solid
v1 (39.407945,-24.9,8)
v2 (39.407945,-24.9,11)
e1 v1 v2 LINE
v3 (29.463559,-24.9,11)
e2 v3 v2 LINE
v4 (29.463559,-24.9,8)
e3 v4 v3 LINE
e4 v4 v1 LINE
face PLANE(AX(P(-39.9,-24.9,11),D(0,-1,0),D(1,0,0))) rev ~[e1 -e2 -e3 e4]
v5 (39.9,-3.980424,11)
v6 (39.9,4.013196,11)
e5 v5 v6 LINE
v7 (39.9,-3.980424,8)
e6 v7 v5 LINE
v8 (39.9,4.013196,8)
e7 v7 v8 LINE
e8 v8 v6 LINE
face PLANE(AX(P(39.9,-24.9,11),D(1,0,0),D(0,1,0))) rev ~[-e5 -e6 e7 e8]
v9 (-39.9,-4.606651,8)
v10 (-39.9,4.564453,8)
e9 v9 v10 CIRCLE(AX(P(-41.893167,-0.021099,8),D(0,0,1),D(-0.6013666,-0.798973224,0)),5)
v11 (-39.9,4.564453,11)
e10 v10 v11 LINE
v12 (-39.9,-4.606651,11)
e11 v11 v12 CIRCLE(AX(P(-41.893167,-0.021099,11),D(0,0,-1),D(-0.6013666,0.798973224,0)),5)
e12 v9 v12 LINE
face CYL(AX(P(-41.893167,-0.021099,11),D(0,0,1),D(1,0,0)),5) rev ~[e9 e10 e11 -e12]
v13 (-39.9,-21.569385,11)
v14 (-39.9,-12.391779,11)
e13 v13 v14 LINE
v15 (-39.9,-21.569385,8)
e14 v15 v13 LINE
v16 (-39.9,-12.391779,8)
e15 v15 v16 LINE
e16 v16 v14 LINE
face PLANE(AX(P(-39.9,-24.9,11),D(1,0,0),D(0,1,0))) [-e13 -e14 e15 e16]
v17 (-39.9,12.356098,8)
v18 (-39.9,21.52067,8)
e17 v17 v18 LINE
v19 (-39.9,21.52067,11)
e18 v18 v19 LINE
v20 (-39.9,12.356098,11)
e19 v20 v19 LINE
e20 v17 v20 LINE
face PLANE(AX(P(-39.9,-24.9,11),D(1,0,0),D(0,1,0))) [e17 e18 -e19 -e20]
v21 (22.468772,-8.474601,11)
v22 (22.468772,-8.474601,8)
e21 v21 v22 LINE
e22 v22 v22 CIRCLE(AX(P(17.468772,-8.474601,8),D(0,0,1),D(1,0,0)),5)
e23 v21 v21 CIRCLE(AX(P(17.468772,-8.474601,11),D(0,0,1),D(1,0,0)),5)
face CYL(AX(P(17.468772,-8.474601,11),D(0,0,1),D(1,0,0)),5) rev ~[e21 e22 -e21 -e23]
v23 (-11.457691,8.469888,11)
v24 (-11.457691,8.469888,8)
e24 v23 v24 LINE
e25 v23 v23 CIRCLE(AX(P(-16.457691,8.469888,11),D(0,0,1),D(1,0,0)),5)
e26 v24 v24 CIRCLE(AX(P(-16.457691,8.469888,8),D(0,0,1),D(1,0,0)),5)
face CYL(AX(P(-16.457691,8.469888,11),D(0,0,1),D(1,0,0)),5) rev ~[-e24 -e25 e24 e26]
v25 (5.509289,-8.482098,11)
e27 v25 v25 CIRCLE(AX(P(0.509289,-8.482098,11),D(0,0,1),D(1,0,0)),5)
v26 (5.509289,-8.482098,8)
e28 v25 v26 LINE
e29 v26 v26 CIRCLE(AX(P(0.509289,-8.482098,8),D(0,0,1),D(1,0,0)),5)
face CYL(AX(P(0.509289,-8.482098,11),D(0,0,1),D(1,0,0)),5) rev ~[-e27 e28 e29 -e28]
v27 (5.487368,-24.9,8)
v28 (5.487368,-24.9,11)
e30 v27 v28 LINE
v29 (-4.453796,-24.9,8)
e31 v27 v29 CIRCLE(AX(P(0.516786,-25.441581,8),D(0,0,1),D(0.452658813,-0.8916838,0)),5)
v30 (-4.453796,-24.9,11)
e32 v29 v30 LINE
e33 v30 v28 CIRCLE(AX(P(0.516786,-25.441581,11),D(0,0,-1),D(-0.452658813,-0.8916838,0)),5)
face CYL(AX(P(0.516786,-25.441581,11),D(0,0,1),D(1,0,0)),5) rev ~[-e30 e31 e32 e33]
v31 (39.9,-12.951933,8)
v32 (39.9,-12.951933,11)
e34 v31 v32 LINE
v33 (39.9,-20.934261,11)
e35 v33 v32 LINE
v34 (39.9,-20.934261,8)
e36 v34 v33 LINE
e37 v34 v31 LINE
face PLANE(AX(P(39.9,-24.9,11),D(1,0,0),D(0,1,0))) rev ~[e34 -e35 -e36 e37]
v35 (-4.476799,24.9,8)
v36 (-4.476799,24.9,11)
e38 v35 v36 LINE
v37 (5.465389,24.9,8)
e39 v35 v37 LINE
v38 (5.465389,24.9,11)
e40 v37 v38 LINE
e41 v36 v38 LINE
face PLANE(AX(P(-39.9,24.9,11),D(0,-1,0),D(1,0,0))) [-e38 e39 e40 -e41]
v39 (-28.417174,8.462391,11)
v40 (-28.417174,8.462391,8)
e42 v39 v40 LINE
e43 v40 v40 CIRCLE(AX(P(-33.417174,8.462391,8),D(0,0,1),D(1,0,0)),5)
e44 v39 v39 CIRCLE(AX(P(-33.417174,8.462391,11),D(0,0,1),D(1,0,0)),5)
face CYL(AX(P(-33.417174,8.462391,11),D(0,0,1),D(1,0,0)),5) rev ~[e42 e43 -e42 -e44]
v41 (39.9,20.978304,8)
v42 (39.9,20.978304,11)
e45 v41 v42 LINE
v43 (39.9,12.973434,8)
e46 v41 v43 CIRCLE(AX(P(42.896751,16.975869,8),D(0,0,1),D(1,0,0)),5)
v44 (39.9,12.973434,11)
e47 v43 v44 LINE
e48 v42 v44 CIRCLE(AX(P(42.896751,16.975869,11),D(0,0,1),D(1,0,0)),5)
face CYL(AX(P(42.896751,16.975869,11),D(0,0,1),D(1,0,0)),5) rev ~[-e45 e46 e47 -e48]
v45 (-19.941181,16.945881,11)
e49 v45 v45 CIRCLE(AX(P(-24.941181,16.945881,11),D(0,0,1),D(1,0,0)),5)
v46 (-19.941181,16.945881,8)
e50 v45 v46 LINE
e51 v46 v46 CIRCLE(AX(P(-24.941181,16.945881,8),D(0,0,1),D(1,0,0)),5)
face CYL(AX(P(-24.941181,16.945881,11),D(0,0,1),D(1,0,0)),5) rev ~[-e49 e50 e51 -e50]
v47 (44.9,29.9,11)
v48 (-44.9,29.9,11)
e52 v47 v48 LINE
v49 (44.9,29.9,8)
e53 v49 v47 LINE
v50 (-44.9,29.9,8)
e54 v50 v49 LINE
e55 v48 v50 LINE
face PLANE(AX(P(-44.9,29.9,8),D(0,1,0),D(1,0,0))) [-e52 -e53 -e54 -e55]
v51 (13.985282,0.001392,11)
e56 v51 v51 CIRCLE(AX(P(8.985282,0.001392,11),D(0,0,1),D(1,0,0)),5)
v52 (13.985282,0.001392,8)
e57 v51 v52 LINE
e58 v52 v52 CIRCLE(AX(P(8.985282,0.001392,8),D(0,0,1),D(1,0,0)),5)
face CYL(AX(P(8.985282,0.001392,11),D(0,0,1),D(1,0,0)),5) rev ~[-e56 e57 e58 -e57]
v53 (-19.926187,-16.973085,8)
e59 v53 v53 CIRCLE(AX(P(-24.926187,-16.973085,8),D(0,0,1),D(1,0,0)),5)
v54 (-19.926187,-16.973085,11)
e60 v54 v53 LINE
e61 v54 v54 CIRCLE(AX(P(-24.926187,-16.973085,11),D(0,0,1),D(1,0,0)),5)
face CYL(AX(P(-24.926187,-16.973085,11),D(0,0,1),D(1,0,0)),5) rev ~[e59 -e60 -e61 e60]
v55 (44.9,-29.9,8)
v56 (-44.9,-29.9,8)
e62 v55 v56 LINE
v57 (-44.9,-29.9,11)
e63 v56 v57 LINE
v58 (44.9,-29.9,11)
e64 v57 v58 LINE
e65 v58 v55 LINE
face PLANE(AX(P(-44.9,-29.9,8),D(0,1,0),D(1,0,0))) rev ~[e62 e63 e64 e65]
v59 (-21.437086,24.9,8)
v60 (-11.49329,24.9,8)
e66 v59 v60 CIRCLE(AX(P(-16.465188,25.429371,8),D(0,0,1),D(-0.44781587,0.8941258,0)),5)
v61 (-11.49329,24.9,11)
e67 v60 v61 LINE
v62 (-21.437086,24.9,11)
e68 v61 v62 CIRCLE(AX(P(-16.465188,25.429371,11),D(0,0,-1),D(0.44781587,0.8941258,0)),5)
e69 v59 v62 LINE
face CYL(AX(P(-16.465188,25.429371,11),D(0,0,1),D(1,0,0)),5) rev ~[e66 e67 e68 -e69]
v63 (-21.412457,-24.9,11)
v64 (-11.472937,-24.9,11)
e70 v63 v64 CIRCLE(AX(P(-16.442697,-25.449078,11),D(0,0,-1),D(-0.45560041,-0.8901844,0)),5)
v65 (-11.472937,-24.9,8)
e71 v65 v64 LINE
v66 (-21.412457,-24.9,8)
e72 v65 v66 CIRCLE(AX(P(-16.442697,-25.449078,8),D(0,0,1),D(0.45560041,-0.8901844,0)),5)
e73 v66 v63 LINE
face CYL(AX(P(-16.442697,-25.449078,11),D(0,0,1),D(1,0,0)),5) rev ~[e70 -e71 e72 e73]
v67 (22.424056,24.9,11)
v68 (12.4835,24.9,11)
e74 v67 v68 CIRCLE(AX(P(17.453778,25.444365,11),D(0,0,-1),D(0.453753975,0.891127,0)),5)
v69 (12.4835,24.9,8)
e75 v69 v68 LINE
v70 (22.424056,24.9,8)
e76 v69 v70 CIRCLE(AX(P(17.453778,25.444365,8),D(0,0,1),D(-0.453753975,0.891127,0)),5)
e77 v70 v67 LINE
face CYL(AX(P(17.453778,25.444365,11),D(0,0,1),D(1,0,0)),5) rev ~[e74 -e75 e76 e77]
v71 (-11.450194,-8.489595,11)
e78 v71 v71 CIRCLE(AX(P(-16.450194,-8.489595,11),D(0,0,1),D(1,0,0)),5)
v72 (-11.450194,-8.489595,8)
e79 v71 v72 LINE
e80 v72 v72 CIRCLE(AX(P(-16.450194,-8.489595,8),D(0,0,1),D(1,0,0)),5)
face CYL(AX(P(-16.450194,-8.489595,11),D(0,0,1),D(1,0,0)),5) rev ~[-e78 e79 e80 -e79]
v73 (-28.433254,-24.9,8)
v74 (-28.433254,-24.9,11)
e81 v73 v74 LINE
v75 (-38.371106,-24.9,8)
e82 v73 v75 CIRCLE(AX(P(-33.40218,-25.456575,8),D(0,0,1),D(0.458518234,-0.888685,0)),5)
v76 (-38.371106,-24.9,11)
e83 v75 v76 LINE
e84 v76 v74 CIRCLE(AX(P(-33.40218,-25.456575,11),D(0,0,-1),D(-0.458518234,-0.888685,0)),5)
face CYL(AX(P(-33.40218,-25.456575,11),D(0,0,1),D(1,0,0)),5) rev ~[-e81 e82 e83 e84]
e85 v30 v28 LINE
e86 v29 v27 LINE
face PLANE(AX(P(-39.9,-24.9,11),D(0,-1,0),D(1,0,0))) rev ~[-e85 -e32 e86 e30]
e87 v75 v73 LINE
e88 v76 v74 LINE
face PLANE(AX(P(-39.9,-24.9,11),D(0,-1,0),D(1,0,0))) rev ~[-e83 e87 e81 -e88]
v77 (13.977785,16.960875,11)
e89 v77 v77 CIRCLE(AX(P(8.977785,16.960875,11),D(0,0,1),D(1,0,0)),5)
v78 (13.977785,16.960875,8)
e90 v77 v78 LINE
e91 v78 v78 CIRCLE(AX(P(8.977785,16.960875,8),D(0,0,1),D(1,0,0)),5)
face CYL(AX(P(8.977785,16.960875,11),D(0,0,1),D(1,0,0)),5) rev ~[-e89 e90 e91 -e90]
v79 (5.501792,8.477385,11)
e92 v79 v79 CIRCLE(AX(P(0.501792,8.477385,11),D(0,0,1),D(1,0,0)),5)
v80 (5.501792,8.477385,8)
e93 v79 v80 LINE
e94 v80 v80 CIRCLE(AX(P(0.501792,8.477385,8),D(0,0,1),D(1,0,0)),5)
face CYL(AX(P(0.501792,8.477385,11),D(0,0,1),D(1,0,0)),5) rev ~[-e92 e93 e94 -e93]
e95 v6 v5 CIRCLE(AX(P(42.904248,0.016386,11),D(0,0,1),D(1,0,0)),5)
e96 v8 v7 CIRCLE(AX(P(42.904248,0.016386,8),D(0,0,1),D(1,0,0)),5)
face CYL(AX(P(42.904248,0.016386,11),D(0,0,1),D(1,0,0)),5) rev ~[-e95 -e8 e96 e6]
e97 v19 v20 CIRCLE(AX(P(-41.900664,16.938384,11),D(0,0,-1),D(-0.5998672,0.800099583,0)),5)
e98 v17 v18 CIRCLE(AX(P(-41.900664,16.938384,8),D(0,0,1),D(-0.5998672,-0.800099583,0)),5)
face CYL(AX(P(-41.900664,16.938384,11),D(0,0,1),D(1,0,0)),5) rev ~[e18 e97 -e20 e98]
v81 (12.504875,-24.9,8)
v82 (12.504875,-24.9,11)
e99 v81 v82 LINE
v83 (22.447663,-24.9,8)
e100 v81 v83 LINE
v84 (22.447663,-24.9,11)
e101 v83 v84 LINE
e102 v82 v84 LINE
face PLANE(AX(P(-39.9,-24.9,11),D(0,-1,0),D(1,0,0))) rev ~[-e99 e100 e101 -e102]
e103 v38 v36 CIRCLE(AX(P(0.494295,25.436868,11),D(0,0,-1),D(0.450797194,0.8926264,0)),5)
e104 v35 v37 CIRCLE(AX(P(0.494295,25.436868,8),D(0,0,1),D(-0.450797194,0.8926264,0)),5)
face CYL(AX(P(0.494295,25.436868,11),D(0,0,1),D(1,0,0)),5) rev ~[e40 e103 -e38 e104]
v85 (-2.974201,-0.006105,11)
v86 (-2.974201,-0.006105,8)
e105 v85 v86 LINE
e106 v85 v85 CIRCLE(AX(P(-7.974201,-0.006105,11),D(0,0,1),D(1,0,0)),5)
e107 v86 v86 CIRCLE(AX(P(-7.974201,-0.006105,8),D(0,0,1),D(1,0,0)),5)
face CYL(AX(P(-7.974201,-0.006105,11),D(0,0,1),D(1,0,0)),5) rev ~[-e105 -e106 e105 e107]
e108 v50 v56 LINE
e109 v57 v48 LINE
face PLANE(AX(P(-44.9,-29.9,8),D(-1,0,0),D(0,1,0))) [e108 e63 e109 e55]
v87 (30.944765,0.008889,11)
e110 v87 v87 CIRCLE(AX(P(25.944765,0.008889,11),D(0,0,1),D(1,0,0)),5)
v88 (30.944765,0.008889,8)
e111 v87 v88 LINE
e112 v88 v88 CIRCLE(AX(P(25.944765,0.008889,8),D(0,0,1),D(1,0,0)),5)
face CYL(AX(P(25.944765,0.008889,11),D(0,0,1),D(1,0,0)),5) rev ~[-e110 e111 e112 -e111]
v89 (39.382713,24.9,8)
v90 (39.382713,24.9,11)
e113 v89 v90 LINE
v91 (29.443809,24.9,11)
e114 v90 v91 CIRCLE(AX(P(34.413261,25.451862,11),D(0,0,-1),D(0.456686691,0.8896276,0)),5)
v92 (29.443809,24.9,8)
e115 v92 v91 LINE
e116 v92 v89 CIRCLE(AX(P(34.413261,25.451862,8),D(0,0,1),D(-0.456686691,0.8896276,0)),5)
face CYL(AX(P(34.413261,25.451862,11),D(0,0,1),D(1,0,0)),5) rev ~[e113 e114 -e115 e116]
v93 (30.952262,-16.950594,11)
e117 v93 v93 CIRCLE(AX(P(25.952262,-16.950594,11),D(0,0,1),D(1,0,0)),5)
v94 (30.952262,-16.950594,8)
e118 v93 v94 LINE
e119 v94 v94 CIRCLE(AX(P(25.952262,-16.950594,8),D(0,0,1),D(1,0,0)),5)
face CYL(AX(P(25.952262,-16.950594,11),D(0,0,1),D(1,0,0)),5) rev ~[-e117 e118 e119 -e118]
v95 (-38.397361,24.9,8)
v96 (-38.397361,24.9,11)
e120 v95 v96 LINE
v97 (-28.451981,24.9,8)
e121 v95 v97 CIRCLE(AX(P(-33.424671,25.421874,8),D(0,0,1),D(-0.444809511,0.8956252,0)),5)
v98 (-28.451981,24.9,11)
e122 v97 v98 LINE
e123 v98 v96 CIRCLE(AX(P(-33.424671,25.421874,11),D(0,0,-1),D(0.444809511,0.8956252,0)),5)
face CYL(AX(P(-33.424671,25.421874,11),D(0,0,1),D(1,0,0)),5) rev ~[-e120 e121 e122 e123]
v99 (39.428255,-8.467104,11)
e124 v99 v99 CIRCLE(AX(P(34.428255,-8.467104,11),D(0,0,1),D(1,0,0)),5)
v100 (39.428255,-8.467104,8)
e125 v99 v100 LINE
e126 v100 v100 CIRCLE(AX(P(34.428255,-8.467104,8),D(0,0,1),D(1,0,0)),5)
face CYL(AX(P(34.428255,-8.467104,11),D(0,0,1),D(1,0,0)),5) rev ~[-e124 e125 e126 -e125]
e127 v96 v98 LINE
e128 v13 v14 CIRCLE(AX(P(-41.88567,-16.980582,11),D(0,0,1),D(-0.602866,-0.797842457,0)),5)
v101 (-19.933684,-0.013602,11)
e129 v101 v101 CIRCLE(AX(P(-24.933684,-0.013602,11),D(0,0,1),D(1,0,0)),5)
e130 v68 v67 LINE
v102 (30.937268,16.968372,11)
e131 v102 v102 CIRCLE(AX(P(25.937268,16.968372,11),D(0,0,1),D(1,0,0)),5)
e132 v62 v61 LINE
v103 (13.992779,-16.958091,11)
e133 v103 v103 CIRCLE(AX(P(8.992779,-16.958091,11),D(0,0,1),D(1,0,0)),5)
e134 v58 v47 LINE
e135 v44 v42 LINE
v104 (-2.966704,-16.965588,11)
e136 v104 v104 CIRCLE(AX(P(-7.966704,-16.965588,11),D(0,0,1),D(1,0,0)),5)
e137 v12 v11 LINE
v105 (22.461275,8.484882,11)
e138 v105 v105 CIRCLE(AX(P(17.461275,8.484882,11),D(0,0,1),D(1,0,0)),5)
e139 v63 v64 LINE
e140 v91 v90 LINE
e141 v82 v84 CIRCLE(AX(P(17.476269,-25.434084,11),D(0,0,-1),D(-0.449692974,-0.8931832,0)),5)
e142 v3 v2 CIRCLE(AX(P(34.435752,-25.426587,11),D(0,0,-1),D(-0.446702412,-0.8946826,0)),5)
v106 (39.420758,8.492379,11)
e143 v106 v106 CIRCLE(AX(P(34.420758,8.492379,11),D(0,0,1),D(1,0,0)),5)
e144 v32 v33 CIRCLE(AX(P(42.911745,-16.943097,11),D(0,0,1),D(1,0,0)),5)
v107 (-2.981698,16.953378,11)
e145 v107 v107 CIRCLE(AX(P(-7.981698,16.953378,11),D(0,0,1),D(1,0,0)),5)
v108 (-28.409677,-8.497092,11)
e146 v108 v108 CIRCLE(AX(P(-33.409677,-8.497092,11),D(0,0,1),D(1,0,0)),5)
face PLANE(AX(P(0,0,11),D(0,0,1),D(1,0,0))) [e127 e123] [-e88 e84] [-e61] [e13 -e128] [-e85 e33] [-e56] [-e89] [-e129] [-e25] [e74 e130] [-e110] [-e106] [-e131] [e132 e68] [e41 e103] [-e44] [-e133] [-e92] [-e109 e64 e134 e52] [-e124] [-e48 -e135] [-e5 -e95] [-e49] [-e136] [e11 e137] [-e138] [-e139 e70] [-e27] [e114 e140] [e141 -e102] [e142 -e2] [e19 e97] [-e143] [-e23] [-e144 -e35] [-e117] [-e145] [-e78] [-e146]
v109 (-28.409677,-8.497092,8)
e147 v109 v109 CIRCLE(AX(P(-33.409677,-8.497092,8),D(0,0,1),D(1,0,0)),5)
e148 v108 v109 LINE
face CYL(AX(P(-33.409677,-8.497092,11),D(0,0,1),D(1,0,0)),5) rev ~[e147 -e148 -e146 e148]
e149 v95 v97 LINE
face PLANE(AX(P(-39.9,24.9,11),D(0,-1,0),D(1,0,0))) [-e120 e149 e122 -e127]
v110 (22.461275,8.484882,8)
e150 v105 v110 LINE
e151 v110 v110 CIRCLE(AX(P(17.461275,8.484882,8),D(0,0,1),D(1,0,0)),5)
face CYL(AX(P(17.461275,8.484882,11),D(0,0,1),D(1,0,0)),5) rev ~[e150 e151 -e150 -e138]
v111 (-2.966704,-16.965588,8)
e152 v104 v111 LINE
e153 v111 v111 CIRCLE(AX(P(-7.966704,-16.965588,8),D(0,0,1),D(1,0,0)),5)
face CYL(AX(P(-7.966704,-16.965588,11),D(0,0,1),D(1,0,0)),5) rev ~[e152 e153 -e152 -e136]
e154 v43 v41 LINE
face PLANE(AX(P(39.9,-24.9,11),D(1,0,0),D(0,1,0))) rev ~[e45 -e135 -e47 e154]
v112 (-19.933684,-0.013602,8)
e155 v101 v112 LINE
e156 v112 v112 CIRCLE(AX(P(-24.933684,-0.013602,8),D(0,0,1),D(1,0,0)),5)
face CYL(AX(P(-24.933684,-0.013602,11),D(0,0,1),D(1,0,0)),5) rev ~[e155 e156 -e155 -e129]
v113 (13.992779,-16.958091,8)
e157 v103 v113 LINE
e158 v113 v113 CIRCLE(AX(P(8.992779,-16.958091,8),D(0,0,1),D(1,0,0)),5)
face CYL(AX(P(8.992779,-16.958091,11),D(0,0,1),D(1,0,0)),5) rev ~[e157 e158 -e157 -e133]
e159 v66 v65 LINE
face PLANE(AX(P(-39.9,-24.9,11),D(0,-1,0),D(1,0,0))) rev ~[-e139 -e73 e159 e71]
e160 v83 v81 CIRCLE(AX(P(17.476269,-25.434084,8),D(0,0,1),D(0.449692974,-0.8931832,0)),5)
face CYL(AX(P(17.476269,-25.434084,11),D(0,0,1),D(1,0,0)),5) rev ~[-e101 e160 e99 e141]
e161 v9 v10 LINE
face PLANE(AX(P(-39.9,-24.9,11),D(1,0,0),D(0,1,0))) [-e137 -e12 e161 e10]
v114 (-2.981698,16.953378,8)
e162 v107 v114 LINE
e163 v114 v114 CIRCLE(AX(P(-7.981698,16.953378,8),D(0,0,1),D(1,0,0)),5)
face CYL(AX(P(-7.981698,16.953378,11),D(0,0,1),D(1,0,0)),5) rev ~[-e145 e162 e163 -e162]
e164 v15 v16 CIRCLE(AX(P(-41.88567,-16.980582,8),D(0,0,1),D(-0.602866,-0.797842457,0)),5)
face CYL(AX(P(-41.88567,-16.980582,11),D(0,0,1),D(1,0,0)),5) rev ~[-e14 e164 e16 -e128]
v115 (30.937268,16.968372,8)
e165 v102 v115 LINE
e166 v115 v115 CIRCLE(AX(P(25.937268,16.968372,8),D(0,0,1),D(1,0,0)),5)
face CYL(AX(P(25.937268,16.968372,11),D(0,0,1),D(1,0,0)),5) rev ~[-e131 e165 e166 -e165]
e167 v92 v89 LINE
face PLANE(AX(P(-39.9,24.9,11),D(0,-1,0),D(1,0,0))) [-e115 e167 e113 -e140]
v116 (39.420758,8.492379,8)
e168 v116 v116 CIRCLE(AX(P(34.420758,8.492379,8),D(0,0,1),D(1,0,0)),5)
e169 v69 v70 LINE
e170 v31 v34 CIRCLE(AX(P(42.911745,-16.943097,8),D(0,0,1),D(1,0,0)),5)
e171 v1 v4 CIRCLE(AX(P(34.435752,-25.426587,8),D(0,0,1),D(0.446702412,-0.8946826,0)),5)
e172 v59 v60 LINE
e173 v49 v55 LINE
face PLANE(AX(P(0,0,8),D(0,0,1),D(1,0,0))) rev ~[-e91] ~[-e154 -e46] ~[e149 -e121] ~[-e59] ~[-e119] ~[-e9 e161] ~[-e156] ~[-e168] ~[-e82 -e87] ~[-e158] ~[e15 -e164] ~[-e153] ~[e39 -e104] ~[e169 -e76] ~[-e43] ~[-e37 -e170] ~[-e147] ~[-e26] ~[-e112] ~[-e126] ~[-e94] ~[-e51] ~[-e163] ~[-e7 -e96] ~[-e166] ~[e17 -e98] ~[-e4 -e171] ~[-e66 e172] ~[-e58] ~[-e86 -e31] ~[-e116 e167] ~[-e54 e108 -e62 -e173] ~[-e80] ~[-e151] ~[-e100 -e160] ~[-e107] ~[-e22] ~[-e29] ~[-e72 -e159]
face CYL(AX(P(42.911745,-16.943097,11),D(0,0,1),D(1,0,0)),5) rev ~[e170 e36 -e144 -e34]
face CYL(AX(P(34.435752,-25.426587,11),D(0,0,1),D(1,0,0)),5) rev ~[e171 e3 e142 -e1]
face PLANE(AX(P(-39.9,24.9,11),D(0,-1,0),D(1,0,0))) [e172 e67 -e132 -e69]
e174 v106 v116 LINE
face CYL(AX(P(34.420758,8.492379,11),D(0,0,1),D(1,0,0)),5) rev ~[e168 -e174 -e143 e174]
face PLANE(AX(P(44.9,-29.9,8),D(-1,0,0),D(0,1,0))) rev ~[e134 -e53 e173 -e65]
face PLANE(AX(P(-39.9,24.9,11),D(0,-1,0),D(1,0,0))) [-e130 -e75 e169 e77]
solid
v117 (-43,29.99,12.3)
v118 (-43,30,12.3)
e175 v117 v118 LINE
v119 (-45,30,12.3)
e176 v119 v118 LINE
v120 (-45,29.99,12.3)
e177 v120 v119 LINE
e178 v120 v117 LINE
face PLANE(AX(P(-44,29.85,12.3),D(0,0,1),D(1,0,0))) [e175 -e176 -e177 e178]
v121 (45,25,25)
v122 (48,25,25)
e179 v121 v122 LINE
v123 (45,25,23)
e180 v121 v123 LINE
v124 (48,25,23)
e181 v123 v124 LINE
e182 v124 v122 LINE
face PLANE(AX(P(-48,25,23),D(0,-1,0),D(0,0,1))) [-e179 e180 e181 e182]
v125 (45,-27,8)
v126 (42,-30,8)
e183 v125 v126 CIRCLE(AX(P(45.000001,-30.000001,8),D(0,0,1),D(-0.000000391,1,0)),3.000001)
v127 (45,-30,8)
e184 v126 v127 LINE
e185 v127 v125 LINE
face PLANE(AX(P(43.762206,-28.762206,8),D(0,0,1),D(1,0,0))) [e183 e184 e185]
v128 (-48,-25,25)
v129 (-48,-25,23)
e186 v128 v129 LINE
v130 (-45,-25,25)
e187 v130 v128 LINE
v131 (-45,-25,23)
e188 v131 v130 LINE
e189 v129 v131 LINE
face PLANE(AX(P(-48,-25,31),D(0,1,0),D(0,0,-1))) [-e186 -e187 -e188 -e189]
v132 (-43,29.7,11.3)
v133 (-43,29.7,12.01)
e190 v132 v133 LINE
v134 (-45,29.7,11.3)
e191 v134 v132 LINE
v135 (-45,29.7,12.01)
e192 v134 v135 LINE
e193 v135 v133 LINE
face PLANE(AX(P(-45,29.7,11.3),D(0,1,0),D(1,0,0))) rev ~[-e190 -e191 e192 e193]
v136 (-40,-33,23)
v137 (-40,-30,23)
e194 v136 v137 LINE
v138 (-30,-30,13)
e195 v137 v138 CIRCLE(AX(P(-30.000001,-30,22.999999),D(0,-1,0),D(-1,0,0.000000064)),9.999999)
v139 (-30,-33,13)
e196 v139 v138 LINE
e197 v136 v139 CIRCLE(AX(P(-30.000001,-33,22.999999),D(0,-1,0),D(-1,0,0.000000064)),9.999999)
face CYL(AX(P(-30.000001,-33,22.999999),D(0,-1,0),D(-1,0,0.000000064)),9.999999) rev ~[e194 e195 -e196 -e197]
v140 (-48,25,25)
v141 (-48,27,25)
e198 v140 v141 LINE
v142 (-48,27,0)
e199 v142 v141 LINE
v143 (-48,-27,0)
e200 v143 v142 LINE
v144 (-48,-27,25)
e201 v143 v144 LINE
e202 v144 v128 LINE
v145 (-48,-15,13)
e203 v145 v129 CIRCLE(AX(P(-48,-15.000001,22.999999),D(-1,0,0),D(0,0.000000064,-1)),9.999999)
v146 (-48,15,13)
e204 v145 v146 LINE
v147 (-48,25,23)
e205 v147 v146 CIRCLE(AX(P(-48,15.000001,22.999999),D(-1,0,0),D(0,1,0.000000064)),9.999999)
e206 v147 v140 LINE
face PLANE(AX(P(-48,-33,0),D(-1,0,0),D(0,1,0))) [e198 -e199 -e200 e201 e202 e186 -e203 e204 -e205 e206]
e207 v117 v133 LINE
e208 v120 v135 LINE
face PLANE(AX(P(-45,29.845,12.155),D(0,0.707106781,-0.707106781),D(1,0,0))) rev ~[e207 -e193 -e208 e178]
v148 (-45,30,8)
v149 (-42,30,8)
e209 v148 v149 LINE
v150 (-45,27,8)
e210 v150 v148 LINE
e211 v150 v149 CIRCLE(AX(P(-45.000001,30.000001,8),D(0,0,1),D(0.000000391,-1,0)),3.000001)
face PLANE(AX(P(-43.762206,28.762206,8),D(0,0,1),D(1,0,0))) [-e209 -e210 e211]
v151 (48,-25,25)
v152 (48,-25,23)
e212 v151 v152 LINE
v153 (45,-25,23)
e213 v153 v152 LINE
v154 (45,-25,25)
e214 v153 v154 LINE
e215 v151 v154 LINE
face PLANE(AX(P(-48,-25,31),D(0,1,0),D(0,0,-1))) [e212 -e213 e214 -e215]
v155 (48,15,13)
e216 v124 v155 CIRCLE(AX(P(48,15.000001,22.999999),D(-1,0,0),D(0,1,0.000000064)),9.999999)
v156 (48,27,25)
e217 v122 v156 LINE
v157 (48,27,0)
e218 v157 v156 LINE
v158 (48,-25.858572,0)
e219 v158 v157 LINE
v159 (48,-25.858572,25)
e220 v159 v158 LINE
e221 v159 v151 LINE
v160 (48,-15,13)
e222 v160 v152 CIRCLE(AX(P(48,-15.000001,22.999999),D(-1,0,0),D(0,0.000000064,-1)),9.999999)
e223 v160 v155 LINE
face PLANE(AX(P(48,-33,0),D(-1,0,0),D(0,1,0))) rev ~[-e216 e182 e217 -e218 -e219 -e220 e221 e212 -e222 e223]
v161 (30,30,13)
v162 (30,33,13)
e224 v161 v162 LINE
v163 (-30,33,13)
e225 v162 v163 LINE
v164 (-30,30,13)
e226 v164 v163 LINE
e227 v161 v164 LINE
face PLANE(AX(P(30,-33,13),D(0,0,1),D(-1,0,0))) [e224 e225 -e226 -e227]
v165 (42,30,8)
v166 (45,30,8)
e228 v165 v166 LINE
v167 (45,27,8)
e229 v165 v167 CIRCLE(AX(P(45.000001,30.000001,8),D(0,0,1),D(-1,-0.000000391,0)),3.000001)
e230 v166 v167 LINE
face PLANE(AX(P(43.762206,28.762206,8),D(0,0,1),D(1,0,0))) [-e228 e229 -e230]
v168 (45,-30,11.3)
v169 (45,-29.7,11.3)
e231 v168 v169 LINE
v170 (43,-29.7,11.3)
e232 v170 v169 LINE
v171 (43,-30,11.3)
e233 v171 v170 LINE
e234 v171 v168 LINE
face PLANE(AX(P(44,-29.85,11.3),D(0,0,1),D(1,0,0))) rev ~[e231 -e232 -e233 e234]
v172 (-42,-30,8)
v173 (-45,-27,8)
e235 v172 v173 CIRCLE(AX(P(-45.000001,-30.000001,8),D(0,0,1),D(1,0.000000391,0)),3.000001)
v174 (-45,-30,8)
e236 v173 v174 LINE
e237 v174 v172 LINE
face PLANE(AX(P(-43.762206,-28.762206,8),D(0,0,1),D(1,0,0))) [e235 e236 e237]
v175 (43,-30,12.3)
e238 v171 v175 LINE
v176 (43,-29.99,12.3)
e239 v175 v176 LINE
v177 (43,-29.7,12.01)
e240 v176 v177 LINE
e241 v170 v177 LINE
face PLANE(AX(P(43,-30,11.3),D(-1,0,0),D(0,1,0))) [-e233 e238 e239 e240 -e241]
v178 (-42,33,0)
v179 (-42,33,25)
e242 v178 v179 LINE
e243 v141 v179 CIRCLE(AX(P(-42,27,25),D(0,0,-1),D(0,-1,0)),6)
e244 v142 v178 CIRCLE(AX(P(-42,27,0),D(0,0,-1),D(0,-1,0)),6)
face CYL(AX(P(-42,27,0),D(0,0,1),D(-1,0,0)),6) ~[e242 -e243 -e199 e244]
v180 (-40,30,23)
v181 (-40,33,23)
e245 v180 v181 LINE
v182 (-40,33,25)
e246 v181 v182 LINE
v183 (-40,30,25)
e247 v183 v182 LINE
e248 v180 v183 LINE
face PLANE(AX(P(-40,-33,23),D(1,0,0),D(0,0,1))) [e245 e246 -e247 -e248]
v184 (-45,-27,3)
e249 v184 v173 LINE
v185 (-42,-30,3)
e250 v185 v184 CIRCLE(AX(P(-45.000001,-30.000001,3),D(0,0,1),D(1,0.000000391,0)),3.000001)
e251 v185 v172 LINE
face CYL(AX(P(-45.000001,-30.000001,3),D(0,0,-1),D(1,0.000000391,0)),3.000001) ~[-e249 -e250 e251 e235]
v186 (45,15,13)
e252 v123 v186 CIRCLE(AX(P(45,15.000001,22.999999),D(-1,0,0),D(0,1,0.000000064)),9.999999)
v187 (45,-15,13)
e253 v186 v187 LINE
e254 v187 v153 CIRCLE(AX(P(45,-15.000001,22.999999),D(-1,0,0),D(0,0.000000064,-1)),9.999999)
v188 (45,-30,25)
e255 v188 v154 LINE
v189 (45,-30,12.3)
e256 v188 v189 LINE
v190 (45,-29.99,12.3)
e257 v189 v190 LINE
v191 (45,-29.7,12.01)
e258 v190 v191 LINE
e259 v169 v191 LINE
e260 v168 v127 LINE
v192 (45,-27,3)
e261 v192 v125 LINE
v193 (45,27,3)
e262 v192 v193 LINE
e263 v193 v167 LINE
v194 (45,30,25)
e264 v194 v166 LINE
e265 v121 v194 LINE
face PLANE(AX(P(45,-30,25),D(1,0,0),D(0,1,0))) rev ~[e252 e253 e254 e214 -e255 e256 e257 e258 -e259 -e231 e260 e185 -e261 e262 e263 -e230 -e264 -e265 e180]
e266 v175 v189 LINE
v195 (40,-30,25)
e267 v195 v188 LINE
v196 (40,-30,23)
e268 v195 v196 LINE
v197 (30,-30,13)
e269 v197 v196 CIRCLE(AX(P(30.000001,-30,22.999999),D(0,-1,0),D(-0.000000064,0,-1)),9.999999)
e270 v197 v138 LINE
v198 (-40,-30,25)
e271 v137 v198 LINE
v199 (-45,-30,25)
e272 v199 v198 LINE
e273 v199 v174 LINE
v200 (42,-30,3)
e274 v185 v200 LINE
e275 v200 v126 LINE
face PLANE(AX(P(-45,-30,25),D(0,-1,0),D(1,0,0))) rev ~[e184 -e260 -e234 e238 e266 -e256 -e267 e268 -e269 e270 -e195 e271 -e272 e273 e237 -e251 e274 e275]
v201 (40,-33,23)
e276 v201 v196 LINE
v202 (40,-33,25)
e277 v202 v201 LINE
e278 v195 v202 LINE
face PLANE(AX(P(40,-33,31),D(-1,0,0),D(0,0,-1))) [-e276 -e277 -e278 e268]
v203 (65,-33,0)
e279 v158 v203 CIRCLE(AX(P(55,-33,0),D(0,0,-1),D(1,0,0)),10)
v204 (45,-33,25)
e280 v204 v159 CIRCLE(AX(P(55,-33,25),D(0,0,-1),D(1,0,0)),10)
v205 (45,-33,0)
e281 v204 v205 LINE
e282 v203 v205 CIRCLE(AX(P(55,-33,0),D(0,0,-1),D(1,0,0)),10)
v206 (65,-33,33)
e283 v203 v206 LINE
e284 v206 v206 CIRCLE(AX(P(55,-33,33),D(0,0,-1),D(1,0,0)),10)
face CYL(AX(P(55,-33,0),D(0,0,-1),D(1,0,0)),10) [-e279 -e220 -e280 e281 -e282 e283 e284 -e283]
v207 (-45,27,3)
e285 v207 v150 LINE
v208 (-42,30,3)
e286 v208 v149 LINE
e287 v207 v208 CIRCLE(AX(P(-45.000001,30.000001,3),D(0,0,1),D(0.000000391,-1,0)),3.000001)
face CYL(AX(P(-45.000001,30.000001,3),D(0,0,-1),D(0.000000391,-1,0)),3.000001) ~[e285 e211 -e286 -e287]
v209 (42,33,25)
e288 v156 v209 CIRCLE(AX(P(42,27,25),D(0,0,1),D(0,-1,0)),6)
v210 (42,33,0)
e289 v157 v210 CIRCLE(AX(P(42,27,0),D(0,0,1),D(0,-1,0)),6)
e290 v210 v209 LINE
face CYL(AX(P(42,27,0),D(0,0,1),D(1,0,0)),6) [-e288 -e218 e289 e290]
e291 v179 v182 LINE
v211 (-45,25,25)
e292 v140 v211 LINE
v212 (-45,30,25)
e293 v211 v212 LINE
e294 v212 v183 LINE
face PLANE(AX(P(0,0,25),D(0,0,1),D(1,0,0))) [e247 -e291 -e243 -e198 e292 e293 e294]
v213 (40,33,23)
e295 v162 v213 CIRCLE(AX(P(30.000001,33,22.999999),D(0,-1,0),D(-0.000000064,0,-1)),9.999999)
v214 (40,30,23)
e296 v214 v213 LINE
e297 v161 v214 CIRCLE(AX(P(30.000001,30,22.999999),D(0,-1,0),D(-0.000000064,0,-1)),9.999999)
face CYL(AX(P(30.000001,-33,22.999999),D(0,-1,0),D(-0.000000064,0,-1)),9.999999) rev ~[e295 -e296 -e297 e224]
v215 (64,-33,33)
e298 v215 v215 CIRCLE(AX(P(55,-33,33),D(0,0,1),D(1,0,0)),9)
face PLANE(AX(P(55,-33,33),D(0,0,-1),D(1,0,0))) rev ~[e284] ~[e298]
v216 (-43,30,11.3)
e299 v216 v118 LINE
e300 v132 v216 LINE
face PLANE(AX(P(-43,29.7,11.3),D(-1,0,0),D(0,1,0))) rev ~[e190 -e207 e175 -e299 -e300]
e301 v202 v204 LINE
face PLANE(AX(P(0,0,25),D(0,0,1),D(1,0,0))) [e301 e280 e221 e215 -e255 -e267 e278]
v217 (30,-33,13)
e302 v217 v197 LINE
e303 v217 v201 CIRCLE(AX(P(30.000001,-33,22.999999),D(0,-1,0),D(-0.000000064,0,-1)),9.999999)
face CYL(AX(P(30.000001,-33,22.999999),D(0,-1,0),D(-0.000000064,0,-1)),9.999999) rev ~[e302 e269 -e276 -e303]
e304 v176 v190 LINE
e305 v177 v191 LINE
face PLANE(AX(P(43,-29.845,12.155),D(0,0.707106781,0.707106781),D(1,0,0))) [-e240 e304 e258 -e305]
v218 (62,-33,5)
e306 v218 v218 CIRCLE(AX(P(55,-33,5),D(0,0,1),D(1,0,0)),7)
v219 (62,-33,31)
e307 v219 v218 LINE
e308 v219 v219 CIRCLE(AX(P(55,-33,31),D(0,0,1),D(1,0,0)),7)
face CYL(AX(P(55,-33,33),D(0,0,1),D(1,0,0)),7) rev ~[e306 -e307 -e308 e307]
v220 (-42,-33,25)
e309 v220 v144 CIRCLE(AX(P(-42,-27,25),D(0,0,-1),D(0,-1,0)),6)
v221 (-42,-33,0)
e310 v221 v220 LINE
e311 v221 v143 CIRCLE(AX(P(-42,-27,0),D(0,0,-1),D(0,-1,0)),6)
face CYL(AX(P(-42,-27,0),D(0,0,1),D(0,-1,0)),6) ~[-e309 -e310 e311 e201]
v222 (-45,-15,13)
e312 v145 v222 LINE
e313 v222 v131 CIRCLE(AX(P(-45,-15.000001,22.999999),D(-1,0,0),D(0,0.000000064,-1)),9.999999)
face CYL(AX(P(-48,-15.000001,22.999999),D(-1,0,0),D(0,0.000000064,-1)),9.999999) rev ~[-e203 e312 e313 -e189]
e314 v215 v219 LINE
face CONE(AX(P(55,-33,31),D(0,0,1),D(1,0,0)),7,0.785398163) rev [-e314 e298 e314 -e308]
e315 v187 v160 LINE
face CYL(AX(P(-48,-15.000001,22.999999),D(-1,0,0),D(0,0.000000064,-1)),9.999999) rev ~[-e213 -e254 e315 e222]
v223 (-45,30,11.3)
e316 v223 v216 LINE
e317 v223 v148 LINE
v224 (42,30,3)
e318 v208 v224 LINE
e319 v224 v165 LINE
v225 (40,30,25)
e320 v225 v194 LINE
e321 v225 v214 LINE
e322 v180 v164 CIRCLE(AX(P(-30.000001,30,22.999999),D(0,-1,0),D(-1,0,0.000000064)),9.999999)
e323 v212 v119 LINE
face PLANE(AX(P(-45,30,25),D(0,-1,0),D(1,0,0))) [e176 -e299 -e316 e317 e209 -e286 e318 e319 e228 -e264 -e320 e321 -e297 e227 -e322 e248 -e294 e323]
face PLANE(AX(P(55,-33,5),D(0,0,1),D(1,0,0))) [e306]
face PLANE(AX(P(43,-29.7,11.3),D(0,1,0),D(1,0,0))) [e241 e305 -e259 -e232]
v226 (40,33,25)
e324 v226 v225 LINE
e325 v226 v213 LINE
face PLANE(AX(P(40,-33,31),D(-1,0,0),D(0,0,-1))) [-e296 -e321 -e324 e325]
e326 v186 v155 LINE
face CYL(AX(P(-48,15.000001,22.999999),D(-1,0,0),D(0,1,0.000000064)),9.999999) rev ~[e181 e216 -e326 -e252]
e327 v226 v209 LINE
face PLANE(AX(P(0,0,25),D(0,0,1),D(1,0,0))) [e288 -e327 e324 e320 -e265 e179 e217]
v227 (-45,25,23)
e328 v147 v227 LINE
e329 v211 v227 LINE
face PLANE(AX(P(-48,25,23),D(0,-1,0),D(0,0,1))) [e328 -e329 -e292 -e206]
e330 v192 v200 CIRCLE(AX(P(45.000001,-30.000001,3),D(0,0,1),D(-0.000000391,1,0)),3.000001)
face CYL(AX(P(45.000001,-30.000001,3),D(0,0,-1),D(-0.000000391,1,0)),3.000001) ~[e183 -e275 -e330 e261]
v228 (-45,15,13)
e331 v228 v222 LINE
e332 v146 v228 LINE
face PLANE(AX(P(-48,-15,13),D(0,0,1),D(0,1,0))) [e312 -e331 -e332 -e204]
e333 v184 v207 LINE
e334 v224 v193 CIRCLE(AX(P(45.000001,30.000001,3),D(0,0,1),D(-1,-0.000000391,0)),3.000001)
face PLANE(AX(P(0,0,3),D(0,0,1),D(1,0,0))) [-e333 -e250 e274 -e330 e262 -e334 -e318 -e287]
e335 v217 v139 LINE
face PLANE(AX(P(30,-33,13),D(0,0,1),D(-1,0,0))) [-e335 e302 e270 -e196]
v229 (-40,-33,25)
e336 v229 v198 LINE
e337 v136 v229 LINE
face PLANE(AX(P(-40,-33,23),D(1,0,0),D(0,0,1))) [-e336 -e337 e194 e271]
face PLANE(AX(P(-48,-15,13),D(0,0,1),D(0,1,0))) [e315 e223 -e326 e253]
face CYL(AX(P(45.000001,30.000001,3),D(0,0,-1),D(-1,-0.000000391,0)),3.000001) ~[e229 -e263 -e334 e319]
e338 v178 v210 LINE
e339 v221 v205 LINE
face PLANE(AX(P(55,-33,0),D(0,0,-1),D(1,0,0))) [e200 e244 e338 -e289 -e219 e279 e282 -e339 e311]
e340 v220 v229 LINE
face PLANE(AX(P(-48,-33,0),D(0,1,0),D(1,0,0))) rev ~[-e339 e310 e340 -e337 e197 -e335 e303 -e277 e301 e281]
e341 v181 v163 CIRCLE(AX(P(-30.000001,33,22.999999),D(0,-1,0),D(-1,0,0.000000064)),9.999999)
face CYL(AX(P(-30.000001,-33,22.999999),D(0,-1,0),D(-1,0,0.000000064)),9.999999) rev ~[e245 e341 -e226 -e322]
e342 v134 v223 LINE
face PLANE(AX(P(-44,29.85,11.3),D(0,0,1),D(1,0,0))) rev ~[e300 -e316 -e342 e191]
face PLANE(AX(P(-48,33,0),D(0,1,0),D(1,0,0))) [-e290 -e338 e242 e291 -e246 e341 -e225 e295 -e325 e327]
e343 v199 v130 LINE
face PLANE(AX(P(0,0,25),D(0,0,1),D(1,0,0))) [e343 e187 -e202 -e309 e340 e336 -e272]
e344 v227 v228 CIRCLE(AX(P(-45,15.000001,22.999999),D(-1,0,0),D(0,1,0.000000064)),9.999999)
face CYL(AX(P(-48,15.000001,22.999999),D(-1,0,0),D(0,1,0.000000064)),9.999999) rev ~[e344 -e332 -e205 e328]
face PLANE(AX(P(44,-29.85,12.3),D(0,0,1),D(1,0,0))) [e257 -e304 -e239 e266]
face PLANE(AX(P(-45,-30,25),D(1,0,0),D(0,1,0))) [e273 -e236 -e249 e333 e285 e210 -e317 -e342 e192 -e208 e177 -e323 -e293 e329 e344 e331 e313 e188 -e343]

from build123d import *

# Parameters (mm, degrees)
SKETCH_W        = 96
SKETCH_H        = 66
PAD_DEPTH       = 25
SKETCH001_W     = 90
SKETCH001_H     = 60
POCKET_DEPTH    = 22
POCKET001_DEPTH = 66
POCKET002_DEPTH = 96
PAD001_DEPTH    = 5
SKETCH005_W     = 2
SKETCH005_H     = 0.3
PAD002_DEPTH    = 1
CHAMFER_SIZE    = 0.29
SKETCH009_R     = 10
PAD005_DEPTH    = 33
SKETCH010_R     = 7
POCKET004_DEPTH = 28
CHAMFER001_SIZE = 2
FILLET_R        = 6
SKETCH006_W     = 89.8
SKETCH006_H     = 59.8
PAD003_DEPTH    = 3
SKETCH007_R     = 5
POCKET003_DEPTH = 3
SKETCH008_W     = 89.8
SKETCH008_H     = 59.8
SKETCH008_W_2   = 79.8
SKETCH008_H_2   = 49.8
PAD004_DEPTH    = 3


with BuildPart() as main_case:
    # Sketch → Pad (new body)
    with BuildSketch(Plane.XY):
        Rectangle(SKETCH_W, SKETCH_H)
    extrude(amount=PAD_DEPTH)

    # Sketch001 (on Face6 of Pad) → Pocket (cut)
    with BuildSketch(Plane.XY.offset(25)):
        Rectangle(SKETCH001_W, SKETCH001_H)
    extrude(amount=-POCKET_DEPTH, mode=Mode.SUBTRACT)

    # Sketch002 (on Face6 of Pocket) → Pocket001 (cut)
    with BuildSketch(Plane.XZ.offset(33)):
        with BuildLine():
            Line((-40, 31), (40, 31))
            Line((40, 31), (40, 23))
            ThreePointArc((30, 13), (37.071068, 15.928932), (40, 23))
            Line((30, 13), (-30, 13))
            ThreePointArc((-40, 23), (-37.071068, 15.928932), (-30, 13))
            Line((-40, 23), (-40, 31))
        make_face()
    extrude(amount=-POCKET001_DEPTH, mode=Mode.SUBTRACT)

    # Sketch003 (on Face11 of Pocket001) → Pocket002 (cut)
    with BuildSketch(Plane(origin=(-48, 0, 0), x_dir=(0, -1, 0), z_dir=(-1, 0, 0))):
        with BuildLine():
            Line((-25, 31), (25, 31))
            Line((25, 31), (25, 23))
            ThreePointArc((15, 13), (22.071068, 15.928932), (25, 23))
            Line((15, 13), (-15, 13))
            ThreePointArc((-25, 23), (-22.071068, 15.928932), (-15, 13))
            Line((-25, 23), (-25, 31))
        make_face()
    extrude(amount=-POCKET002_DEPTH, mode=Mode.SUBTRACT)

    # Sketch004 (on Face34 of Pocket002) → Pad001 (join)
    with BuildSketch(Plane.XY.offset(3)):
        with BuildLine():
            ThreePointArc((-45, 27), (-42.87868, 27.87868), (-42, 30))
            Line((-45, 30), (-42, 30))
            Line((-45, 27), (-45, 30))
        make_face()
        with BuildLine():
            ThreePointArc((42, 30), (42.87868, 27.87868), (45, 27))
            Line((45, 30), (45, 27))
            Line((42, 30), (45, 30))
        make_face()
        with BuildLine():
            ThreePointArc((45, -27), (42.87868, -27.87868), (42, -30))
            Line((42, -30), (45, -30))
            Line((45, -30), (45, -27))
        make_face()
        with BuildLine():
            ThreePointArc((-42, -30), (-42.87868, -27.87868), (-45, -27))
            Line((-45, -27), (-45, -30))
            Line((-45, -30), (-42, -30))
        make_face()
    extrude(amount=PAD001_DEPTH)

    # Sketch005 (on Face38 of Pad001) → Pad002 (join)
    with BuildSketch(Plane.XY.offset(11.3)):
        with Locations((-44, 29.85)):
            Rectangle(SKETCH005_W, SKETCH005_H)
        with Locations((44, -29.85)):
            Rectangle(SKETCH005_W, SKETCH005_H)
    extrude(amount=PAD002_DEPTH)

    # Chamfer
    chamfer_edges = [main_case.edges().sort_by_distance(p)[0] for p in [
        (44, -29.7, 12.3),
        (-44, 29.7, 12.3),
    ]]
    chamfer(chamfer_edges, length=CHAMFER_SIZE)

    # Sketch009 (on Face52 of Chamfer) → Pad005 (join)
    with BuildSketch(Plane(origin=(0, 0, 0), x_dir=(1, 0, 0), z_dir=(0, 0, -1))):
        with Locations((55, 33)):
            Circle(SKETCH009_R)
    extrude(amount=-PAD005_DEPTH)

    # Sketch010 (on Face55 of Pad005) → Pocket004 (cut)
    with BuildSketch(Plane.XY.offset(33)):
        with Locations((55, -33)):
            Circle(SKETCH010_R)
    extrude(amount=-POCKET004_DEPTH, mode=Mode.SUBTRACT)

    # Chamfer001
    chamfer001_edges = [main_case.edges().sort_by_distance(p)[0] for p in [
        (48, -33, 33),
    ]]
    chamfer(chamfer001_edges, length=CHAMFER001_SIZE)

    # Fillet
    fillet_edges = [main_case.edges().sort_by_distance(p)[0] for p in [
        (-48, 33, 12.5),
        (48, 33, 12.5),
        (-48, -33, 12.5),
    ]]
    fillet(fillet_edges, radius=FILLET_R)


with BuildPart() as grate:
    # Sketch006 → Pad003 (new body)
    with BuildSketch(Plane.XY.offset(8)):
        Rectangle(SKETCH006_W, SKETCH006_H)
    extrude(amount=PAD003_DEPTH)

    # Sketch007 (on Face6 of Pad003) → Pocket003 (cut)
    with BuildSketch(Plane.XY.offset(11)):
        with Locations((-8.004189, 67.831827)):
            Circle(SKETCH007_R)
        with Locations((0.479301, 59.355834)):
            Circle(SKETCH007_R)
        with Locations((8.962791, 50.879841)):
            Circle(SKETCH007_R)
        with Locations((17.446281, 42.403848)):
            Circle(SKETCH007_R)
        with Locations((25.929771, 33.927855)):
            Circle(SKETCH007_R)
        with Locations((34.413261, 25.451862)):
            Circle(SKETCH007_R)
        with Locations((42.896751, 16.975869)):
            Circle(SKETCH007_R)
        with Locations((51.380241, 8.499876)):
            Circle(SKETCH007_R)
        with Locations((59.863731, 0.023883)):
            Circle(SKETCH007_R)
        with Locations((68.347221, -8.45211)):
            Circle(SKETCH007_R)
        with Locations((-16.480182, 59.348337)):
            Circle(SKETCH007_R)
        with Locations((-7.996692, 50.872344)):
            Circle(SKETCH007_R)
        with Locations((0.486798, 42.396351)):
            Circle(SKETCH007_R)
        with Locations((8.970288, 33.920358)):
            Circle(SKETCH007_R)
        with Locations((17.453778, 25.444365)):
            Circle(SKETCH007_R)
        with Locations((25.937268, 16.968372)):
            Circle(SKETCH007_R)
        with Locations((34.420758, 8.492379)):
            Circle(SKETCH007_R)
        with Locations((42.904248, 0.016386)):
            Circle(SKETCH007_R)
        with Locations((51.387738, -8.459607)):
            Circle(SKETCH007_R)
        with Locations((59.871228, -16.9356)):
            Circle(SKETCH007_R)
        with Locations((-24.956175, 50.864847)):
            Circle(SKETCH007_R)
        with Locations((-16.472685, 42.388854)):
            Circle(SKETCH007_R)
        with Locations((-7.989195, 33.912861)):
            Circle(SKETCH007_R)
        with Locations((0.494295, 25.436868)):
            Circle(SKETCH007_R)
        with Locations((8.977785, 16.960875)):
            Circle(SKETCH007_R)
        with Locations((17.461275, 8.484882)):
            Circle(SKETCH007_R)
        with Locations((25.944765, 0.008889)):
            Circle(SKETCH007_R)
        with Locations((34.428255, -8.467104)):
            Circle(SKETCH007_R)
        with Locations((42.911745, -16.943097)):
            Circle(SKETCH007_R)
        with Locations((51.395235, -25.41909)):
            Circle(SKETCH007_R)
        with Locations((-33.432168, 42.381357)):
            Circle(SKETCH007_R)
        with Locations((-24.948678, 33.905364)):
            Circle(SKETCH007_R)
        with Locations((-16.465188, 25.429371)):
            Circle(SKETCH007_R)
        with Locations((-7.981698, 16.953378)):
            Circle(SKETCH007_R)
        with Locations((0.501792, 8.477385)):
            Circle(SKETCH007_R)
        with Locations((8.985282, 0.001392)):
            Circle(SKETCH007_R)
        with Locations((17.468772, -8.474601)):
            Circle(SKETCH007_R)
        with Locations((25.952262, -16.950594)):
            Circle(SKETCH007_R)
        with Locations((34.435752, -25.426587)):
            Circle(SKETCH007_R)
        with Locations((42.919242, -33.90258)):
            Circle(SKETCH007_R)
        with Locations((-41.908161, 33.897867)):
            Circle(SKETCH007_R)
        with Locations((-33.424671, 25.421874)):
            Circle(SKETCH007_R)
        with Locations((-24.941181, 16.945881)):
            Circle(SKETCH007_R)
        with Locations((-16.457691, 8.469888)):
            Circle(SKETCH007_R)
        with Locations((-7.974201, -0.006105)):
            Circle(SKETCH007_R)
        with Locations((0.509289, -8.482098)):
            Circle(SKETCH007_R)
        with Locations((8.992779, -16.958091)):
            Circle(SKETCH007_R)
        with Locations((17.476269, -25.434084)):
            Circle(SKETCH007_R)
        with Locations((25.959759, -33.910077)):
            Circle(SKETCH007_R)
        with Locations((34.443249, -42.38607)):
            Circle(SKETCH007_R)
        with Locations((-50.384154, 25.414377)):
            Circle(SKETCH007_R)
        with Locations((-41.900664, 16.938384)):
            Circle(SKETCH007_R)
        with Locations((-33.417174, 8.462391)):
            Circle(SKETCH007_R)
        with Locations((-24.933684, -0.013602)):
            Circle(SKETCH007_R)
        with Locations((-16.450194, -8.489595)):
            Circle(SKETCH007_R)
        with Locations((-7.966704, -16.965588)):
            Circle(SKETCH007_R)
        with Locations((0.516786, -25.441581)):
            Circle(SKETCH007_R)
        with Locations((9.000276, -33.917574)):
            Circle(SKETCH007_R)
        with Locations((17.483766, -42.393567)):
            Circle(SKETCH007_R)
        with Locations((25.967256, -50.86956)):
            Circle(SKETCH007_R)
        with Locations((-58.860147, 16.930887)):
            Circle(SKETCH007_R)
        with Locations((-50.376657, 8.454894)):
            Circle(SKETCH007_R)
        with Locations((-41.893167, -0.021099)):
            Circle(SKETCH007_R)
        with Locations((-33.409677, -8.497092)):
            Circle(SKETCH007_R)
        with Locations((-24.926187, -16.973085)):
            Circle(SKETCH007_R)
        with Locations((-16.442697, -25.449078)):
            Circle(SKETCH007_R)
        with Locations((-7.959207, -33.925071)):
            Circle(SKETCH007_R)
        with Locations((0.524283, -42.401064)):
            Circle(SKETCH007_R)
        with Locations((9.007773, -50.877057)):
            Circle(SKETCH007_R)
        with Locations((17.491263, -59.35305)):
            Circle(SKETCH007_R)
        with Locations((-67.33614, 8.447397)):
            Circle(SKETCH007_R)
        with Locations((-58.85265, -0.028596)):
            Circle(SKETCH007_R)
        with Locations((-50.36916, -8.504589)):
            Circle(SKETCH007_R)
        with Locations((-41.88567, -16.980582)):
            Circle(SKETCH007_R)
        with Locations((-33.40218, -25.456575)):
            Circle(SKETCH007_R)
        with Locations((-24.91869, -33.932568)):
            Circle(SKETCH007_R)
        with Locations((-16.4352, -42.408561)):
            Circle(SKETCH007_R)
        with Locations((-7.95171, -50.884554)):
            Circle(SKETCH007_R)
        with Locations((0.53178, -59.360547)):
            Circle(SKETCH007_R)
        with Locations((9.01527, -67.83654)):
            Circle(SKETCH007_R)
    extrude(amount=-POCKET003_DEPTH, mode=Mode.SUBTRACT)

    # Sketch008 (on Face4 of Pocket003) → Pad004 (join)
    with BuildSketch(Plane.XY.offset(11)):
        Rectangle(SKETCH008_W, SKETCH008_H)
        Rectangle(SKETCH008_W_2, SKETCH008_H_2, mode=Mode.SUBTRACT)
    extrude(amount=-PAD004_DEPTH)


solid = Compound([main_case.part, grate.part])
